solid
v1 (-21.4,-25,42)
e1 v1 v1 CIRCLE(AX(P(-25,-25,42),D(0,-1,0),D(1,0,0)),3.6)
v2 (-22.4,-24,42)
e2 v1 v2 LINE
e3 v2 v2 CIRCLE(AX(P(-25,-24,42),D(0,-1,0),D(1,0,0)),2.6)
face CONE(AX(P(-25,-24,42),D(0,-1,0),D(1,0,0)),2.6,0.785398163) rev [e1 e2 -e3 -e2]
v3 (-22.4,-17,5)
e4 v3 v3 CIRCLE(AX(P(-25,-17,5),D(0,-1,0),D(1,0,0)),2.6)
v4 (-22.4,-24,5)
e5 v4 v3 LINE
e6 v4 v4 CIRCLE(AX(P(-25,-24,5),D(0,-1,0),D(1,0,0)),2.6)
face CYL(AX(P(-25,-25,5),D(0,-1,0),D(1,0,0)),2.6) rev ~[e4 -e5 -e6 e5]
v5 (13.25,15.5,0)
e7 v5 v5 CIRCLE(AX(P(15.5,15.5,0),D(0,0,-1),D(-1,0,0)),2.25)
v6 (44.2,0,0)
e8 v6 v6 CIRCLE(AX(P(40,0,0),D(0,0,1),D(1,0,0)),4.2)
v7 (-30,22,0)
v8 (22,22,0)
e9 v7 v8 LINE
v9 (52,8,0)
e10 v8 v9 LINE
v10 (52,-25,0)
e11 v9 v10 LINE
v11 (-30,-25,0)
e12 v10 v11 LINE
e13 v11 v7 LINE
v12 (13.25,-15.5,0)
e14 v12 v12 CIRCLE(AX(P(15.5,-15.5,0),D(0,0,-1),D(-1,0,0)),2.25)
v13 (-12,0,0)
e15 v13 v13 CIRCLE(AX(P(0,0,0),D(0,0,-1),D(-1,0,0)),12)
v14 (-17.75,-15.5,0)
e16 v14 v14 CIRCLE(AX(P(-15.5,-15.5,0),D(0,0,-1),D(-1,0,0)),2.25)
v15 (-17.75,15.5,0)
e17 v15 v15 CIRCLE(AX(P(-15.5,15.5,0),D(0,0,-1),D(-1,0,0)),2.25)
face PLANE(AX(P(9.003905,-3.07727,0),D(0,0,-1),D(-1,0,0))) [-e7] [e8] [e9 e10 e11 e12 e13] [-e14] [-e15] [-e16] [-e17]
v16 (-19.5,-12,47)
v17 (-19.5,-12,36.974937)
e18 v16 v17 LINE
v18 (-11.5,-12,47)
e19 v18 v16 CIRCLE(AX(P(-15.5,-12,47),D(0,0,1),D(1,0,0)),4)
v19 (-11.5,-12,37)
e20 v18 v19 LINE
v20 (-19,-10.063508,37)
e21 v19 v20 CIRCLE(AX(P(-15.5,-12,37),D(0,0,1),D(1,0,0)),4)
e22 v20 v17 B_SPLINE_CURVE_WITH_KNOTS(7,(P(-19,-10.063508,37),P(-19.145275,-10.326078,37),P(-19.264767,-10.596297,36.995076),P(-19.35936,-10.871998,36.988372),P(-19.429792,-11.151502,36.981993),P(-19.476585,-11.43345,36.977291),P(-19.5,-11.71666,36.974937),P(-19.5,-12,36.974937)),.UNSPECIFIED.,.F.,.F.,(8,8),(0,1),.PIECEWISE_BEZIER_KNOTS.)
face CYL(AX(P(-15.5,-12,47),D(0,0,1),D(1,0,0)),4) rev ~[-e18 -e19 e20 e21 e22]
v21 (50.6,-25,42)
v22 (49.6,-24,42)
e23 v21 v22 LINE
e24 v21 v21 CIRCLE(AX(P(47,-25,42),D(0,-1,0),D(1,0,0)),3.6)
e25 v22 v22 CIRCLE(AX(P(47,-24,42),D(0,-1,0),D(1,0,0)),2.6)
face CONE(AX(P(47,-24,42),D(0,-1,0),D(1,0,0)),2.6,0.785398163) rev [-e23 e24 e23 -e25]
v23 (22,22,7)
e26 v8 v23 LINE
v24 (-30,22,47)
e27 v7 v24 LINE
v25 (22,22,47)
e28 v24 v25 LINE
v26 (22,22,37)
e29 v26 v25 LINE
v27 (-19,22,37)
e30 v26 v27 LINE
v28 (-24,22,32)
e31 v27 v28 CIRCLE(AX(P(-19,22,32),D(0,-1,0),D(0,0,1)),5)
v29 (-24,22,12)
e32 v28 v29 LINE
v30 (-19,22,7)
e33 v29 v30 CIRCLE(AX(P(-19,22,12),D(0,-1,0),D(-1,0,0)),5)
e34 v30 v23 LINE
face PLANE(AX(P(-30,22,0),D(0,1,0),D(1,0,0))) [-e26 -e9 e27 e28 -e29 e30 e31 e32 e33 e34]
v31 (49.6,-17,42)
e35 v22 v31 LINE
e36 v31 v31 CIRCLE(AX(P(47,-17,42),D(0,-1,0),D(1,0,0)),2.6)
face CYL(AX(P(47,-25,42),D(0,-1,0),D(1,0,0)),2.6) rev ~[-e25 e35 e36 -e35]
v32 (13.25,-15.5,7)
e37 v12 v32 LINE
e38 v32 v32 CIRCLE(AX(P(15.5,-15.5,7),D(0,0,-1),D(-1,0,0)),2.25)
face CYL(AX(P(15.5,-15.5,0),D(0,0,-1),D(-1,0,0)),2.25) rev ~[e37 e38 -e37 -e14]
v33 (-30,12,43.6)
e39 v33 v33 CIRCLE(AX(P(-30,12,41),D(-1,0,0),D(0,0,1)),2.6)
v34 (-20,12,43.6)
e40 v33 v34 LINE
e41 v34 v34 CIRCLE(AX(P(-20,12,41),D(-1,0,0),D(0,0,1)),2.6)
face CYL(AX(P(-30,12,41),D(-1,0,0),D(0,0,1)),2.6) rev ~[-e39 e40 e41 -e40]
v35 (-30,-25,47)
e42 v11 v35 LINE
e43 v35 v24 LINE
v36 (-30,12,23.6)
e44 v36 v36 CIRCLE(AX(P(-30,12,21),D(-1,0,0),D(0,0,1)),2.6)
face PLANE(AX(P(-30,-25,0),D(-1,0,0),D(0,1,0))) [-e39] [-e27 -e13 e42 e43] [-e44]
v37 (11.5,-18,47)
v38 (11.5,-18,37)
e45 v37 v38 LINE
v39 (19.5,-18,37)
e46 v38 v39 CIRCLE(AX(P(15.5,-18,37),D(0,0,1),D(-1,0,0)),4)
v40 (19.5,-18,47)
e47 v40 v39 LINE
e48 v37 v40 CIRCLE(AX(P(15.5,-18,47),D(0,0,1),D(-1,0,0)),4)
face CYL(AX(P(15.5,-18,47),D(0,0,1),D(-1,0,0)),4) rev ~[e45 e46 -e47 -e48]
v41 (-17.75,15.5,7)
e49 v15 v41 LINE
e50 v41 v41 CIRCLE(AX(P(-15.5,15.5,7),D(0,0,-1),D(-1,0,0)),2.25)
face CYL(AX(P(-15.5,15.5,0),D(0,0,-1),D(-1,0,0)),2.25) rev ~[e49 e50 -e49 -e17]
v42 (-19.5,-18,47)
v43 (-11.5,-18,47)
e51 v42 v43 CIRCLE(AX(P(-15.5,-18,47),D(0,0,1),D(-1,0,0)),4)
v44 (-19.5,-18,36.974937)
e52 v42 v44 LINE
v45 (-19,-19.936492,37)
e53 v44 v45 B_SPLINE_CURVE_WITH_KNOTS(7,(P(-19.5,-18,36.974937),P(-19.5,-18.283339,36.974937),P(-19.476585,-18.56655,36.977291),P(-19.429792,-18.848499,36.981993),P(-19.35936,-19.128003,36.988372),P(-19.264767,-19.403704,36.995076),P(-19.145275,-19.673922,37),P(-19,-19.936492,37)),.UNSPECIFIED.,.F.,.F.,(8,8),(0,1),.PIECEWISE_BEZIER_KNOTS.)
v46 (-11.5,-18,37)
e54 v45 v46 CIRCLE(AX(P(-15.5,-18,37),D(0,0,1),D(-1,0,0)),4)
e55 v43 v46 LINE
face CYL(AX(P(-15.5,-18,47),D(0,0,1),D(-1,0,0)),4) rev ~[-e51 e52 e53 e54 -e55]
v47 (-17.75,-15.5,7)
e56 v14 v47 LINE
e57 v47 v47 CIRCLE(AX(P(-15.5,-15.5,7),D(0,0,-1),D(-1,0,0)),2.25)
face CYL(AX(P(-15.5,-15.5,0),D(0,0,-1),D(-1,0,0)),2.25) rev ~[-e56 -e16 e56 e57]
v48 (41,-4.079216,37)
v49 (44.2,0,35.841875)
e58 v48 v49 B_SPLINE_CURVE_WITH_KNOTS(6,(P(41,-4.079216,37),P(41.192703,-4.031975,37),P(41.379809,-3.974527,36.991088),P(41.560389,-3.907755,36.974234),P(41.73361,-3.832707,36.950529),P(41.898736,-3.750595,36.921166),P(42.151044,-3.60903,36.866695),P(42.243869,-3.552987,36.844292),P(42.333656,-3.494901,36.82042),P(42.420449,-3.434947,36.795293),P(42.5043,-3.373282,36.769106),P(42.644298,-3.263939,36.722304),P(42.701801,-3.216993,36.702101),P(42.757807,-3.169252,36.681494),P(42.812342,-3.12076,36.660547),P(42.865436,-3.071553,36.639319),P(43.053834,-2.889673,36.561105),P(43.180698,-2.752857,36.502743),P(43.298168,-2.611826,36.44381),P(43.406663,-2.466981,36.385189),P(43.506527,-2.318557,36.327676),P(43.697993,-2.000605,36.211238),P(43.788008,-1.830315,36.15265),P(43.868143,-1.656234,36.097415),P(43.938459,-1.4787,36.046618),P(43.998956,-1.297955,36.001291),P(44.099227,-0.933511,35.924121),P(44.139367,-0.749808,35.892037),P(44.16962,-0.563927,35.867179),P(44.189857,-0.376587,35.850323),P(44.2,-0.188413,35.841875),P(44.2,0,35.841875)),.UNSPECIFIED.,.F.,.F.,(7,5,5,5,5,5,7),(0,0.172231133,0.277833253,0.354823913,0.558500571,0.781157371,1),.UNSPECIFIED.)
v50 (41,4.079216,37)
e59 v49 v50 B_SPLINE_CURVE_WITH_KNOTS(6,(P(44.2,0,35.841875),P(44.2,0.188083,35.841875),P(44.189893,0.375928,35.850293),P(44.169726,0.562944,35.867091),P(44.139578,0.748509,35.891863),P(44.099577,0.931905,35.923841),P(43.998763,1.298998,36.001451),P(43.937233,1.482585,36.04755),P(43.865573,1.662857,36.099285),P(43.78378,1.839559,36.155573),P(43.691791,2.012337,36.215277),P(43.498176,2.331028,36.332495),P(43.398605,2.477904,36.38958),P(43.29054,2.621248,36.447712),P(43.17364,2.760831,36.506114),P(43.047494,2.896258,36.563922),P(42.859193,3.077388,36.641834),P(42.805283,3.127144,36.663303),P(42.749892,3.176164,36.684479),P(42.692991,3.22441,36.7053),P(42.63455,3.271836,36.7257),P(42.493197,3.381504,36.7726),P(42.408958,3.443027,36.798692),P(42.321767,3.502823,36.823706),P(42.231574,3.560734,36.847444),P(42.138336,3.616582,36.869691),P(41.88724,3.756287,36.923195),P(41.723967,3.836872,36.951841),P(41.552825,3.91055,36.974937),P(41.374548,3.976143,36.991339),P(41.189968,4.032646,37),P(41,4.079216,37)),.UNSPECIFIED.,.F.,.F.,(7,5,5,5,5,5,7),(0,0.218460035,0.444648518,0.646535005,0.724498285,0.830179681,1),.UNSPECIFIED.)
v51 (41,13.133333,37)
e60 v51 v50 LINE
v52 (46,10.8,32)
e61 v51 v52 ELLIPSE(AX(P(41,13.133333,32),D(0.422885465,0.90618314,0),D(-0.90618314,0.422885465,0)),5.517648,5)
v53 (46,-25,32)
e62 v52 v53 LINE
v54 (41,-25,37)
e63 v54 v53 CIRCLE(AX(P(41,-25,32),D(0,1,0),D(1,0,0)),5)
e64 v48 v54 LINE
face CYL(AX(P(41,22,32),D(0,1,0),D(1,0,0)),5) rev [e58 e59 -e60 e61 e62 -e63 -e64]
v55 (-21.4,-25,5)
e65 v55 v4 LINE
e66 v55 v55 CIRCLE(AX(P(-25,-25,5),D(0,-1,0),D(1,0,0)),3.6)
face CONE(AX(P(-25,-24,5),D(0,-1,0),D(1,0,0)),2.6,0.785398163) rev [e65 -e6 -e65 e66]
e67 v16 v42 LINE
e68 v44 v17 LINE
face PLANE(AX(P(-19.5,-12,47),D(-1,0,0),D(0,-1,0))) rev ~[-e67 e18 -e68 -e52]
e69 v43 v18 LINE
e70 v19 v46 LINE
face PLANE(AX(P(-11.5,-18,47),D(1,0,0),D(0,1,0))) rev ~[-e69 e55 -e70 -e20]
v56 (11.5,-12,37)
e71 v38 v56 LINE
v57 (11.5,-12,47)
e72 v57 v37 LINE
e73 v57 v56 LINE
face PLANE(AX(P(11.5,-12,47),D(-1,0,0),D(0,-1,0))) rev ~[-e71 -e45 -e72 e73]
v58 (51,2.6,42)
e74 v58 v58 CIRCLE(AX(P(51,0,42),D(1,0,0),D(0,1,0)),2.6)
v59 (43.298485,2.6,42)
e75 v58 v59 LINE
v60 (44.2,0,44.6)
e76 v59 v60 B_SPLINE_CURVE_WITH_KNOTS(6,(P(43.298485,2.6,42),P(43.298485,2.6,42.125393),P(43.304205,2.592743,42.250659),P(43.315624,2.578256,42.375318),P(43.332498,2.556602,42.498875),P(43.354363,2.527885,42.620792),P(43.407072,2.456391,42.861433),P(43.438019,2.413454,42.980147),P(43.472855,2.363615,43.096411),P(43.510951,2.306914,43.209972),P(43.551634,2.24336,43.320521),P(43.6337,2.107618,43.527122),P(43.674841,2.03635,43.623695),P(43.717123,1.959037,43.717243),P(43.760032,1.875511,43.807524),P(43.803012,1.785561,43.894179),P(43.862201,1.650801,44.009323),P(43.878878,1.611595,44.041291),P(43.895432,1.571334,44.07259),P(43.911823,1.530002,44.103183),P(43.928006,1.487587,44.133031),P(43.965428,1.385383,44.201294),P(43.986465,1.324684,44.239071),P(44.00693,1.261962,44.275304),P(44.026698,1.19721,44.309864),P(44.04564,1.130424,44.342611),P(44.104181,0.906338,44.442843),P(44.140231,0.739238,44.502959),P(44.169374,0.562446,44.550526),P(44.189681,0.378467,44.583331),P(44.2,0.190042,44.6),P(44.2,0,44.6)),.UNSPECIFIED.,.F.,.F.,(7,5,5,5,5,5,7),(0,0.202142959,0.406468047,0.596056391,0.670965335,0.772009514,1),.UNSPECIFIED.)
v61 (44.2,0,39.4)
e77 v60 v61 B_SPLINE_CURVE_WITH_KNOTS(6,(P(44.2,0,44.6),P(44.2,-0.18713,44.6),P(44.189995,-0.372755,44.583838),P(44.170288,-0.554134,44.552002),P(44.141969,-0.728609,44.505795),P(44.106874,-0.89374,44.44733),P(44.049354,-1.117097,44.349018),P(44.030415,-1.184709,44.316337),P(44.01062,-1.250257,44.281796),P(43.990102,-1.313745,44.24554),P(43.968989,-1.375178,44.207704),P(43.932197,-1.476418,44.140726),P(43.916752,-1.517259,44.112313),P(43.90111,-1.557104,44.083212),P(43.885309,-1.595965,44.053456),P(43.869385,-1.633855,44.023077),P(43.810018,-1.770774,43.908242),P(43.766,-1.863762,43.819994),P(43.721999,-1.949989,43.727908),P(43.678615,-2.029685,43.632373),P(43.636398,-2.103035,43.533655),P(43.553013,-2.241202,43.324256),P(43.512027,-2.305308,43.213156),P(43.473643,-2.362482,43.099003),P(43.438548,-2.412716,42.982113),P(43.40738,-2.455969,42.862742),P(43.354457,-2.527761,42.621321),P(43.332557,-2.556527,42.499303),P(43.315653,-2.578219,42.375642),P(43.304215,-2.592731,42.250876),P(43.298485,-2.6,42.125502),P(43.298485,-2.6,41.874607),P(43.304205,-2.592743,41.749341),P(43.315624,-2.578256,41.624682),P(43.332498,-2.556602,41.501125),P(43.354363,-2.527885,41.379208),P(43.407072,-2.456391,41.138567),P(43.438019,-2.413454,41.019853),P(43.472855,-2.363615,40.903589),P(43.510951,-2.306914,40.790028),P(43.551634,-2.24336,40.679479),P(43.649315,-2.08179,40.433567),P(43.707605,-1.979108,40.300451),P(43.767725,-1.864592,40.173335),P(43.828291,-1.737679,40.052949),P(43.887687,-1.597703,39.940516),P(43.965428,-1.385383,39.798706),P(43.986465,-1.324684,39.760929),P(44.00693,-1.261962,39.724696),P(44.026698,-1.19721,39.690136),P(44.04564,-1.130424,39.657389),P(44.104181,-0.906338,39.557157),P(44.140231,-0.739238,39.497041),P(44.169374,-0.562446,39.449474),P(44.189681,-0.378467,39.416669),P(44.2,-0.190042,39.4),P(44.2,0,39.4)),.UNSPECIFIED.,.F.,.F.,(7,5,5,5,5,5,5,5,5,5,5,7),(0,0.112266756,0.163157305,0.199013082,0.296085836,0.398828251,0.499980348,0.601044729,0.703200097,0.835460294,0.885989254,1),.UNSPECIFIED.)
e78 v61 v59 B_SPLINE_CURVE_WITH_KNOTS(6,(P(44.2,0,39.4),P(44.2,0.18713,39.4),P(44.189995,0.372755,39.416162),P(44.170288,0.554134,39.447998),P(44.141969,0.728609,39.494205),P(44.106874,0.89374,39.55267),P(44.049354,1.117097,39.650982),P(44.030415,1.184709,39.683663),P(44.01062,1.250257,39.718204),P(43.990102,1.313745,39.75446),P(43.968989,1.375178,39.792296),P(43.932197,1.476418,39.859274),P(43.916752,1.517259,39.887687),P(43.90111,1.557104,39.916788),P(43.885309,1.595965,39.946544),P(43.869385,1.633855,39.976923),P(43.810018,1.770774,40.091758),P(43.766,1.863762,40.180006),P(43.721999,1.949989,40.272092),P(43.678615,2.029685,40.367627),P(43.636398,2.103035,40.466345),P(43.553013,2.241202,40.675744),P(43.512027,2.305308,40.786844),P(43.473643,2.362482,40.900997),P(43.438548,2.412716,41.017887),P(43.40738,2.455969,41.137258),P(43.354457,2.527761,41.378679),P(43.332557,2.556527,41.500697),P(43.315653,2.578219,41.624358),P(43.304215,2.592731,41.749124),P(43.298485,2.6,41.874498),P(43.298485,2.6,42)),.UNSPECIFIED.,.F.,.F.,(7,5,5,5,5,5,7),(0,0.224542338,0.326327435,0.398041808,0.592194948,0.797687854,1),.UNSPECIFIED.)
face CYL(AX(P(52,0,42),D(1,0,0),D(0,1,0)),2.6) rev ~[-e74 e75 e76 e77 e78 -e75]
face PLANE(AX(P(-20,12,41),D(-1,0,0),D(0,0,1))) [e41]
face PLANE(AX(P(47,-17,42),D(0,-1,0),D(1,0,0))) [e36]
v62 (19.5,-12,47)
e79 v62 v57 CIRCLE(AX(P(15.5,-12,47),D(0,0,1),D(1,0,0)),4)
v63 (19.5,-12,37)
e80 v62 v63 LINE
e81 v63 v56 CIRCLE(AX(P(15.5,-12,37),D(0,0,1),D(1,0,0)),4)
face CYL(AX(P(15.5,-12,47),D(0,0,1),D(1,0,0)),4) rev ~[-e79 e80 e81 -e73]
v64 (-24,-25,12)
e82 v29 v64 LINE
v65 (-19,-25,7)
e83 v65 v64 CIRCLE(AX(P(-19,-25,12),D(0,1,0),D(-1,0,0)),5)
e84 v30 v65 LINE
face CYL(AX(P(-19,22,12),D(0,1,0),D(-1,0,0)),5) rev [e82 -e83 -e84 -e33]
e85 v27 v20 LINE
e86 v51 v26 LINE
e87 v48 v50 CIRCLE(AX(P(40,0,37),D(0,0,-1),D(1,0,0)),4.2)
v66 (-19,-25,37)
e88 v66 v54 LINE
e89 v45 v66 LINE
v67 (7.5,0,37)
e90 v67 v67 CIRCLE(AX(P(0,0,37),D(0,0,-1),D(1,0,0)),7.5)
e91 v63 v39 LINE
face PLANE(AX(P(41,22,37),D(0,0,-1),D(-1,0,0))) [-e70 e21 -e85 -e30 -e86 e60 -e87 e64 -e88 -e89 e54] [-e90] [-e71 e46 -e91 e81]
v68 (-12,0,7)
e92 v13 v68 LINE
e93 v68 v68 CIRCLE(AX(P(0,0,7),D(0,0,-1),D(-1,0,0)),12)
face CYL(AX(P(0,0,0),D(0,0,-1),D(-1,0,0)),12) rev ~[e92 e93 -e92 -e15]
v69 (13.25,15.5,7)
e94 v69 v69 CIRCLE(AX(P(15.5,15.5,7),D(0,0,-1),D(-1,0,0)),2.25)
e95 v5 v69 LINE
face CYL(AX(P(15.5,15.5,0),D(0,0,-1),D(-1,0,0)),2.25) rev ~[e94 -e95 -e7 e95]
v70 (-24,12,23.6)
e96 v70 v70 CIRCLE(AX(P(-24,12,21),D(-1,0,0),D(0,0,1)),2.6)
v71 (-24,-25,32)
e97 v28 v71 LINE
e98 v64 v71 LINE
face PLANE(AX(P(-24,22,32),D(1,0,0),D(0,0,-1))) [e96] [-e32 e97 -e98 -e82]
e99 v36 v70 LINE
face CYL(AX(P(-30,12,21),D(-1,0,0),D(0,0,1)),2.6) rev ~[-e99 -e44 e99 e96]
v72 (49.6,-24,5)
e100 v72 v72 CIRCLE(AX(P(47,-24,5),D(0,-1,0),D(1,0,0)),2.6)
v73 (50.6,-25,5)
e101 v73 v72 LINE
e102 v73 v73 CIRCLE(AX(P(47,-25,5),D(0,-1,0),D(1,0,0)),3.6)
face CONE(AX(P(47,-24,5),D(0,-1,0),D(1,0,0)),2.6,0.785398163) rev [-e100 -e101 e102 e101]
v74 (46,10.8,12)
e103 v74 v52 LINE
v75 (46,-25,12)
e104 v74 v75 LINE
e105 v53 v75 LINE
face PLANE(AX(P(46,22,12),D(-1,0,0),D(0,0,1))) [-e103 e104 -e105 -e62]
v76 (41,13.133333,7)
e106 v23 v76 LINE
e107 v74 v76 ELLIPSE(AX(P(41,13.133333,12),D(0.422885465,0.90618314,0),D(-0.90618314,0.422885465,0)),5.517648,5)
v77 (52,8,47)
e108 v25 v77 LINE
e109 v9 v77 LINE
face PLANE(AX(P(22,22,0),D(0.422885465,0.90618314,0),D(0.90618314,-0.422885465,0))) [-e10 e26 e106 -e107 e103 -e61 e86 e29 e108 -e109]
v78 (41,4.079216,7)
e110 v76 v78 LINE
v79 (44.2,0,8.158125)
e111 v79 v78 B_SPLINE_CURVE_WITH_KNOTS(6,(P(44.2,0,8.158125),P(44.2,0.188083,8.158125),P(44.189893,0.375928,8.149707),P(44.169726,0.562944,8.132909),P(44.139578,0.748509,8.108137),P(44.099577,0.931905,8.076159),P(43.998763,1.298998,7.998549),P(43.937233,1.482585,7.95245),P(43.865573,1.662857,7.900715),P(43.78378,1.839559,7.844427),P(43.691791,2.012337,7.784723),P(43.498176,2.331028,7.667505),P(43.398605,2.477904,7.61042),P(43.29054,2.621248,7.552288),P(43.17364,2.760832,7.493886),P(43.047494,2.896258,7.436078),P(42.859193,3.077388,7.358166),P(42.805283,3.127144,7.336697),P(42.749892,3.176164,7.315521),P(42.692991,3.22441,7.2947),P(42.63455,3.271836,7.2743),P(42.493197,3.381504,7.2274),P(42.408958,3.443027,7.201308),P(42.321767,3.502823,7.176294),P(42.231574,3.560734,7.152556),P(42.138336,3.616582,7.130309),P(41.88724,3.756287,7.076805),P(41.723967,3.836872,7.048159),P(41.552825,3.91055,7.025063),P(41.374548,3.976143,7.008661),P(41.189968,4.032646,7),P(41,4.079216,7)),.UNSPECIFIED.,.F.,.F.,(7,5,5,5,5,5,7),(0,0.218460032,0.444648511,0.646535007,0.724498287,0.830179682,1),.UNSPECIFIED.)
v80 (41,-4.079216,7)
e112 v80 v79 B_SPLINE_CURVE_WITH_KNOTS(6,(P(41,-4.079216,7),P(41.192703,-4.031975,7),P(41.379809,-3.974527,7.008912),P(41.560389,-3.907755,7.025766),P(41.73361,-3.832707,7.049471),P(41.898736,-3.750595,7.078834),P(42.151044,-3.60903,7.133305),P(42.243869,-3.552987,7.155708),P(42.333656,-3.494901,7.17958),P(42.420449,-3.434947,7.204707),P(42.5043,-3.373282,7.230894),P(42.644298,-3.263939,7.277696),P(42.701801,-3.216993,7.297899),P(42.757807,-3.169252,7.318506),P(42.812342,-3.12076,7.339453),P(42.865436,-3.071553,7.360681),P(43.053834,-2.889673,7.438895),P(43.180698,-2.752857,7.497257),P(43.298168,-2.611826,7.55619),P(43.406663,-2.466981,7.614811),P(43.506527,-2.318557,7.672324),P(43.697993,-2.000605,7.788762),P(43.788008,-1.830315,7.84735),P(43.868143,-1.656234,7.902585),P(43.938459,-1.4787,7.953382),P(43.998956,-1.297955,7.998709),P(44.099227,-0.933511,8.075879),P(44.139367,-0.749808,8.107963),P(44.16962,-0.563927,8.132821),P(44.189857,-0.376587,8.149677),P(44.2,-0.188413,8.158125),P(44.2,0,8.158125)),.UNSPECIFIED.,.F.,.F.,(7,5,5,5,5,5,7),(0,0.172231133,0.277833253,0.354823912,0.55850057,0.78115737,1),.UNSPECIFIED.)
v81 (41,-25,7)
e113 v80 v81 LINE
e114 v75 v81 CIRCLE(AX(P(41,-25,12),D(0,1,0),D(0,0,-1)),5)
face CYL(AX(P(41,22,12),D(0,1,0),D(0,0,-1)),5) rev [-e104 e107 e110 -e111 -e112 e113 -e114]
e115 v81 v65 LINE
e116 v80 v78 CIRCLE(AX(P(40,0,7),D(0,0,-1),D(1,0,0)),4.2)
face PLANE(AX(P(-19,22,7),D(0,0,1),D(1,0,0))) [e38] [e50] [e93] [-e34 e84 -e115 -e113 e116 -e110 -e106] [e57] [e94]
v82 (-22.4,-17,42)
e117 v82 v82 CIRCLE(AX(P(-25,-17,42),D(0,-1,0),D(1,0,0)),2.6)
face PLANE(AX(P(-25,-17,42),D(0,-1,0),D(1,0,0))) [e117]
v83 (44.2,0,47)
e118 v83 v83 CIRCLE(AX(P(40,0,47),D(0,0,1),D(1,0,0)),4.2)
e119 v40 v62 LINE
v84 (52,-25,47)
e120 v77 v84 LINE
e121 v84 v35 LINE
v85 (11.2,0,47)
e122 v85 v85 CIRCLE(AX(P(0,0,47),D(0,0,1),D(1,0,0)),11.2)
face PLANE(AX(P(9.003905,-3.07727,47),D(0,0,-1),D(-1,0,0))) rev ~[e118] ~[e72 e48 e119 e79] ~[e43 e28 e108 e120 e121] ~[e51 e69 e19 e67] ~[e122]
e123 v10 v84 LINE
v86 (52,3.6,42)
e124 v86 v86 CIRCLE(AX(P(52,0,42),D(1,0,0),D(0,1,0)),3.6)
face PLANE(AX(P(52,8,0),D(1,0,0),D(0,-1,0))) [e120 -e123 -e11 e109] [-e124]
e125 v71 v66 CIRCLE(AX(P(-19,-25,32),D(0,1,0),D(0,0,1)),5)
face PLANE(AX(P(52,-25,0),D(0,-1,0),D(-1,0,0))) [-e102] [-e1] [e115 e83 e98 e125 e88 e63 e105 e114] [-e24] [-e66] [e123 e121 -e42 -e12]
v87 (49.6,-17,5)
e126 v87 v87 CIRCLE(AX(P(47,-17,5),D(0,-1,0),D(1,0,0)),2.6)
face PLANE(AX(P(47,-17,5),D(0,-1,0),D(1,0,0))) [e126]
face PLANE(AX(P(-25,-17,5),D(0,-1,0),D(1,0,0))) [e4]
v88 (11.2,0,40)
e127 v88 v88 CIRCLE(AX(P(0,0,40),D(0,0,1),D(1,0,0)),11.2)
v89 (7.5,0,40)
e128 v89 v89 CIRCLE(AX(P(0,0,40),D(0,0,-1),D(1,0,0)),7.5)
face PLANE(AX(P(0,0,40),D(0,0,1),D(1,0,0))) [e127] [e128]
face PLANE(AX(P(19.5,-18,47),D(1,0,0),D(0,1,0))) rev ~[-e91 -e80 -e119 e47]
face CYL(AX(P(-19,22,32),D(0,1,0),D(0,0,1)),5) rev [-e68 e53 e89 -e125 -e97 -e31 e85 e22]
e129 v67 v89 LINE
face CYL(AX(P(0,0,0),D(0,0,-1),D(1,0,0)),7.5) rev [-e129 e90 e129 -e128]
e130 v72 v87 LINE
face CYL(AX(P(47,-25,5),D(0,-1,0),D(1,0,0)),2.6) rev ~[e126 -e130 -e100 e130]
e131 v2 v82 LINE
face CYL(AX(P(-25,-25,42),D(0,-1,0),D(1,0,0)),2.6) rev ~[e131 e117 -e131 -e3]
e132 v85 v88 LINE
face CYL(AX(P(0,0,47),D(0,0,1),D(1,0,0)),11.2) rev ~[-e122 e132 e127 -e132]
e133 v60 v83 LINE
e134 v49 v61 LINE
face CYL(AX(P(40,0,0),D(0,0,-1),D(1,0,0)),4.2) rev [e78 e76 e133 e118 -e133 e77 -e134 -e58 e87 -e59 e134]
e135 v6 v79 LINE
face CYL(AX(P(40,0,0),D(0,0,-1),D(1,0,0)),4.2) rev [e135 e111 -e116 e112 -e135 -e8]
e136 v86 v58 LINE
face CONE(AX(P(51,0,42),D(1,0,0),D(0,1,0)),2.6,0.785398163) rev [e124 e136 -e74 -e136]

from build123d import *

# Parameters (mm, degrees)
SKETCH1_R           = 7.5
SKETCH1_R_2         = 4.2
BOSS_EXTRUDE1_DEPTH = 47
SKETCH2_R           = 11.2
CUT_EXTRUDE1_DEPTH  = 7
SKETCH3_R           = 2.25
SKETCH3_R_2         = 12
CUT_EXTRUDE2_DEPTH  = 15
CUT_EXTRUDE3_DEPTH  = 48
CUT_EXTRUDE4_DEPTH  = 20
SKETCH7_R           = 2.6
CUT_EXTRUDE5_DEPTH  = 10
SKETCH8_R           = 2.6
CUT_EXTRUDE6_DEPTH  = 8
CHAMFER1_SIZE       = 1
SKETCH9_R           = 2.6
CUT_EXTRUDE7_DEPTH  = 10
CHAMFER2_SIZE       = 1


with BuildPart() as part:
    # Sketch1 → Boss-Extrude1 (new body)
    with BuildSketch(Plane.XY):
        Polygon((-30, -25), (-30, 22), (22, 22), (52, 8), (52, -25), align=None)
        Circle(SKETCH1_R, mode=Mode.SUBTRACT)
        with Locations((40, 0)):
            Circle(SKETCH1_R_2, mode=Mode.SUBTRACT)
    extrude(amount=BOSS_EXTRUDE1_DEPTH)

    # Sketch2 → Cut-Extrude1 (cut)
    with BuildSketch(Plane.XY.offset(47)):
        Circle(SKETCH2_R)
    extrude(amount=-CUT_EXTRUDE1_DEPTH, mode=Mode.SUBTRACT)

    # Sketch3 → Cut-Extrude2 (cut)
    with BuildSketch(Plane(origin=(0, 0, 0), x_dir=(-1, 0, 0), z_dir=(0, 0, -1))):
        with Locations((-15.5, 15.5)):
            Circle(SKETCH3_R)
        with Locations((-15.5, -15.5)):
            Circle(SKETCH3_R)
        with Locations((15.5, -15.5)):
            Circle(SKETCH3_R)
        with Locations((15.5, 15.5)):
            Circle(SKETCH3_R)
        Circle(SKETCH3_R_2)
    extrude(amount=-CUT_EXTRUDE2_DEPTH, mode=Mode.SUBTRACT)

    # Sketch4 → Cut-Extrude3 (cut, through all)
    with BuildSketch(Plane(origin=(0, 22, 0), x_dir=(1, 0, 0), z_dir=(0, 1, 0))):
        with BuildLine():
            Line((-19, -7), (41, -7))
            ThreePointArc((41, -7), (44.535533906, -8.464466094), (46, -12))
            Line((46, -12), (46, -32))
            ThreePointArc((46, -32), (44.535533906, -35.535533906), (41, -37))
            Line((41, -37), (-19, -37))
            ThreePointArc((-19, -37), (-22.535533906, -35.535533906), (-24, -32))
            Line((-24, -32), (-24, -12))
            ThreePointArc((-24, -12), (-22.535533906, -8.464466094), (-19, -7))
        make_face()
    extrude(amount=-CUT_EXTRUDE3_DEPTH, mode=Mode.SUBTRACT)

    # Sketch6 → Cut-Extrude4 (cut)
    with BuildSketch(Plane.XY.offset(47)):
        with BuildLine():
            Line((-19.5, -12), (-19.5, -18))
            ThreePointArc((-19.5, -18), (-15.5, -22), (-11.5, -18))
            Line((-11.5, -18), (-11.5, -12))
            ThreePointArc((-11.5, -12), (-15.5, -8), (-19.5, -12))
        make_face()
        with BuildLine():
            Line((11.5, -12), (11.5, -18))
            ThreePointArc((11.5, -18), (15.5, -22), (19.5, -18))
            Line((19.5, -18), (19.5, -12))
            ThreePointArc((19.5, -12), (15.5, -8), (11.5, -12))
        make_face()
    extrude(amount=-CUT_EXTRUDE4_DEPTH, mode=Mode.SUBTRACT)

    # Sketch7 → Cut-Extrude5 (cut)
    with BuildSketch(Plane(origin=(52, 0, 0), x_dir=(0, 0, -1), z_dir=(1, 0, 0))):
        with Locations(Location((-42, 0, 0), (0, 0, 90))):  # turned: the seam where the file's is
            Circle(SKETCH7_R)
    extrude(amount=-CUT_EXTRUDE5_DEPTH, mode=Mode.SUBTRACT)

    # Sketch8 → Cut-Extrude6 (cut)
    with BuildSketch(Plane.XZ.offset(25)):
        with Locations((-25, 42)):
            Circle(SKETCH8_R)
        with Locations((-25, 5)):
            Circle(SKETCH8_R)
        with Locations((47, 5)):
            Circle(SKETCH8_R)
        with Locations((47, 42)):
            Circle(SKETCH8_R)
    extrude(amount=-CUT_EXTRUDE6_DEPTH, mode=Mode.SUBTRACT)

    # Chamfer1
    chamfer1_edges = [part.edges().sort_by_distance(p)[0] for p in [
        (-27.6, -25, 42),
        (-27.6, -25, 5),
        (44.4, -25, 5),
        (44.4, -25, 42),
    ]]
    chamfer(chamfer1_edges, length=CHAMFER1_SIZE)

    # Sketch9 → Cut-Extrude7 (cut)
    with BuildSketch(Plane.ZY.offset(30)):
        with Locations((41, 12)):
            Circle(SKETCH9_R)
        with Locations((21, 12)):
            Circle(SKETCH9_R)
    extrude(amount=-CUT_EXTRUDE7_DEPTH, mode=Mode.SUBTRACT)

    # Chamfer2
    chamfer2_edges = [part.edges().sort_by_distance(p)[0] for p in [
        (52, -2.6, 42),
    ]]
    chamfer(chamfer2_edges, length=CHAMFER2_SIZE)


solid = part.part
